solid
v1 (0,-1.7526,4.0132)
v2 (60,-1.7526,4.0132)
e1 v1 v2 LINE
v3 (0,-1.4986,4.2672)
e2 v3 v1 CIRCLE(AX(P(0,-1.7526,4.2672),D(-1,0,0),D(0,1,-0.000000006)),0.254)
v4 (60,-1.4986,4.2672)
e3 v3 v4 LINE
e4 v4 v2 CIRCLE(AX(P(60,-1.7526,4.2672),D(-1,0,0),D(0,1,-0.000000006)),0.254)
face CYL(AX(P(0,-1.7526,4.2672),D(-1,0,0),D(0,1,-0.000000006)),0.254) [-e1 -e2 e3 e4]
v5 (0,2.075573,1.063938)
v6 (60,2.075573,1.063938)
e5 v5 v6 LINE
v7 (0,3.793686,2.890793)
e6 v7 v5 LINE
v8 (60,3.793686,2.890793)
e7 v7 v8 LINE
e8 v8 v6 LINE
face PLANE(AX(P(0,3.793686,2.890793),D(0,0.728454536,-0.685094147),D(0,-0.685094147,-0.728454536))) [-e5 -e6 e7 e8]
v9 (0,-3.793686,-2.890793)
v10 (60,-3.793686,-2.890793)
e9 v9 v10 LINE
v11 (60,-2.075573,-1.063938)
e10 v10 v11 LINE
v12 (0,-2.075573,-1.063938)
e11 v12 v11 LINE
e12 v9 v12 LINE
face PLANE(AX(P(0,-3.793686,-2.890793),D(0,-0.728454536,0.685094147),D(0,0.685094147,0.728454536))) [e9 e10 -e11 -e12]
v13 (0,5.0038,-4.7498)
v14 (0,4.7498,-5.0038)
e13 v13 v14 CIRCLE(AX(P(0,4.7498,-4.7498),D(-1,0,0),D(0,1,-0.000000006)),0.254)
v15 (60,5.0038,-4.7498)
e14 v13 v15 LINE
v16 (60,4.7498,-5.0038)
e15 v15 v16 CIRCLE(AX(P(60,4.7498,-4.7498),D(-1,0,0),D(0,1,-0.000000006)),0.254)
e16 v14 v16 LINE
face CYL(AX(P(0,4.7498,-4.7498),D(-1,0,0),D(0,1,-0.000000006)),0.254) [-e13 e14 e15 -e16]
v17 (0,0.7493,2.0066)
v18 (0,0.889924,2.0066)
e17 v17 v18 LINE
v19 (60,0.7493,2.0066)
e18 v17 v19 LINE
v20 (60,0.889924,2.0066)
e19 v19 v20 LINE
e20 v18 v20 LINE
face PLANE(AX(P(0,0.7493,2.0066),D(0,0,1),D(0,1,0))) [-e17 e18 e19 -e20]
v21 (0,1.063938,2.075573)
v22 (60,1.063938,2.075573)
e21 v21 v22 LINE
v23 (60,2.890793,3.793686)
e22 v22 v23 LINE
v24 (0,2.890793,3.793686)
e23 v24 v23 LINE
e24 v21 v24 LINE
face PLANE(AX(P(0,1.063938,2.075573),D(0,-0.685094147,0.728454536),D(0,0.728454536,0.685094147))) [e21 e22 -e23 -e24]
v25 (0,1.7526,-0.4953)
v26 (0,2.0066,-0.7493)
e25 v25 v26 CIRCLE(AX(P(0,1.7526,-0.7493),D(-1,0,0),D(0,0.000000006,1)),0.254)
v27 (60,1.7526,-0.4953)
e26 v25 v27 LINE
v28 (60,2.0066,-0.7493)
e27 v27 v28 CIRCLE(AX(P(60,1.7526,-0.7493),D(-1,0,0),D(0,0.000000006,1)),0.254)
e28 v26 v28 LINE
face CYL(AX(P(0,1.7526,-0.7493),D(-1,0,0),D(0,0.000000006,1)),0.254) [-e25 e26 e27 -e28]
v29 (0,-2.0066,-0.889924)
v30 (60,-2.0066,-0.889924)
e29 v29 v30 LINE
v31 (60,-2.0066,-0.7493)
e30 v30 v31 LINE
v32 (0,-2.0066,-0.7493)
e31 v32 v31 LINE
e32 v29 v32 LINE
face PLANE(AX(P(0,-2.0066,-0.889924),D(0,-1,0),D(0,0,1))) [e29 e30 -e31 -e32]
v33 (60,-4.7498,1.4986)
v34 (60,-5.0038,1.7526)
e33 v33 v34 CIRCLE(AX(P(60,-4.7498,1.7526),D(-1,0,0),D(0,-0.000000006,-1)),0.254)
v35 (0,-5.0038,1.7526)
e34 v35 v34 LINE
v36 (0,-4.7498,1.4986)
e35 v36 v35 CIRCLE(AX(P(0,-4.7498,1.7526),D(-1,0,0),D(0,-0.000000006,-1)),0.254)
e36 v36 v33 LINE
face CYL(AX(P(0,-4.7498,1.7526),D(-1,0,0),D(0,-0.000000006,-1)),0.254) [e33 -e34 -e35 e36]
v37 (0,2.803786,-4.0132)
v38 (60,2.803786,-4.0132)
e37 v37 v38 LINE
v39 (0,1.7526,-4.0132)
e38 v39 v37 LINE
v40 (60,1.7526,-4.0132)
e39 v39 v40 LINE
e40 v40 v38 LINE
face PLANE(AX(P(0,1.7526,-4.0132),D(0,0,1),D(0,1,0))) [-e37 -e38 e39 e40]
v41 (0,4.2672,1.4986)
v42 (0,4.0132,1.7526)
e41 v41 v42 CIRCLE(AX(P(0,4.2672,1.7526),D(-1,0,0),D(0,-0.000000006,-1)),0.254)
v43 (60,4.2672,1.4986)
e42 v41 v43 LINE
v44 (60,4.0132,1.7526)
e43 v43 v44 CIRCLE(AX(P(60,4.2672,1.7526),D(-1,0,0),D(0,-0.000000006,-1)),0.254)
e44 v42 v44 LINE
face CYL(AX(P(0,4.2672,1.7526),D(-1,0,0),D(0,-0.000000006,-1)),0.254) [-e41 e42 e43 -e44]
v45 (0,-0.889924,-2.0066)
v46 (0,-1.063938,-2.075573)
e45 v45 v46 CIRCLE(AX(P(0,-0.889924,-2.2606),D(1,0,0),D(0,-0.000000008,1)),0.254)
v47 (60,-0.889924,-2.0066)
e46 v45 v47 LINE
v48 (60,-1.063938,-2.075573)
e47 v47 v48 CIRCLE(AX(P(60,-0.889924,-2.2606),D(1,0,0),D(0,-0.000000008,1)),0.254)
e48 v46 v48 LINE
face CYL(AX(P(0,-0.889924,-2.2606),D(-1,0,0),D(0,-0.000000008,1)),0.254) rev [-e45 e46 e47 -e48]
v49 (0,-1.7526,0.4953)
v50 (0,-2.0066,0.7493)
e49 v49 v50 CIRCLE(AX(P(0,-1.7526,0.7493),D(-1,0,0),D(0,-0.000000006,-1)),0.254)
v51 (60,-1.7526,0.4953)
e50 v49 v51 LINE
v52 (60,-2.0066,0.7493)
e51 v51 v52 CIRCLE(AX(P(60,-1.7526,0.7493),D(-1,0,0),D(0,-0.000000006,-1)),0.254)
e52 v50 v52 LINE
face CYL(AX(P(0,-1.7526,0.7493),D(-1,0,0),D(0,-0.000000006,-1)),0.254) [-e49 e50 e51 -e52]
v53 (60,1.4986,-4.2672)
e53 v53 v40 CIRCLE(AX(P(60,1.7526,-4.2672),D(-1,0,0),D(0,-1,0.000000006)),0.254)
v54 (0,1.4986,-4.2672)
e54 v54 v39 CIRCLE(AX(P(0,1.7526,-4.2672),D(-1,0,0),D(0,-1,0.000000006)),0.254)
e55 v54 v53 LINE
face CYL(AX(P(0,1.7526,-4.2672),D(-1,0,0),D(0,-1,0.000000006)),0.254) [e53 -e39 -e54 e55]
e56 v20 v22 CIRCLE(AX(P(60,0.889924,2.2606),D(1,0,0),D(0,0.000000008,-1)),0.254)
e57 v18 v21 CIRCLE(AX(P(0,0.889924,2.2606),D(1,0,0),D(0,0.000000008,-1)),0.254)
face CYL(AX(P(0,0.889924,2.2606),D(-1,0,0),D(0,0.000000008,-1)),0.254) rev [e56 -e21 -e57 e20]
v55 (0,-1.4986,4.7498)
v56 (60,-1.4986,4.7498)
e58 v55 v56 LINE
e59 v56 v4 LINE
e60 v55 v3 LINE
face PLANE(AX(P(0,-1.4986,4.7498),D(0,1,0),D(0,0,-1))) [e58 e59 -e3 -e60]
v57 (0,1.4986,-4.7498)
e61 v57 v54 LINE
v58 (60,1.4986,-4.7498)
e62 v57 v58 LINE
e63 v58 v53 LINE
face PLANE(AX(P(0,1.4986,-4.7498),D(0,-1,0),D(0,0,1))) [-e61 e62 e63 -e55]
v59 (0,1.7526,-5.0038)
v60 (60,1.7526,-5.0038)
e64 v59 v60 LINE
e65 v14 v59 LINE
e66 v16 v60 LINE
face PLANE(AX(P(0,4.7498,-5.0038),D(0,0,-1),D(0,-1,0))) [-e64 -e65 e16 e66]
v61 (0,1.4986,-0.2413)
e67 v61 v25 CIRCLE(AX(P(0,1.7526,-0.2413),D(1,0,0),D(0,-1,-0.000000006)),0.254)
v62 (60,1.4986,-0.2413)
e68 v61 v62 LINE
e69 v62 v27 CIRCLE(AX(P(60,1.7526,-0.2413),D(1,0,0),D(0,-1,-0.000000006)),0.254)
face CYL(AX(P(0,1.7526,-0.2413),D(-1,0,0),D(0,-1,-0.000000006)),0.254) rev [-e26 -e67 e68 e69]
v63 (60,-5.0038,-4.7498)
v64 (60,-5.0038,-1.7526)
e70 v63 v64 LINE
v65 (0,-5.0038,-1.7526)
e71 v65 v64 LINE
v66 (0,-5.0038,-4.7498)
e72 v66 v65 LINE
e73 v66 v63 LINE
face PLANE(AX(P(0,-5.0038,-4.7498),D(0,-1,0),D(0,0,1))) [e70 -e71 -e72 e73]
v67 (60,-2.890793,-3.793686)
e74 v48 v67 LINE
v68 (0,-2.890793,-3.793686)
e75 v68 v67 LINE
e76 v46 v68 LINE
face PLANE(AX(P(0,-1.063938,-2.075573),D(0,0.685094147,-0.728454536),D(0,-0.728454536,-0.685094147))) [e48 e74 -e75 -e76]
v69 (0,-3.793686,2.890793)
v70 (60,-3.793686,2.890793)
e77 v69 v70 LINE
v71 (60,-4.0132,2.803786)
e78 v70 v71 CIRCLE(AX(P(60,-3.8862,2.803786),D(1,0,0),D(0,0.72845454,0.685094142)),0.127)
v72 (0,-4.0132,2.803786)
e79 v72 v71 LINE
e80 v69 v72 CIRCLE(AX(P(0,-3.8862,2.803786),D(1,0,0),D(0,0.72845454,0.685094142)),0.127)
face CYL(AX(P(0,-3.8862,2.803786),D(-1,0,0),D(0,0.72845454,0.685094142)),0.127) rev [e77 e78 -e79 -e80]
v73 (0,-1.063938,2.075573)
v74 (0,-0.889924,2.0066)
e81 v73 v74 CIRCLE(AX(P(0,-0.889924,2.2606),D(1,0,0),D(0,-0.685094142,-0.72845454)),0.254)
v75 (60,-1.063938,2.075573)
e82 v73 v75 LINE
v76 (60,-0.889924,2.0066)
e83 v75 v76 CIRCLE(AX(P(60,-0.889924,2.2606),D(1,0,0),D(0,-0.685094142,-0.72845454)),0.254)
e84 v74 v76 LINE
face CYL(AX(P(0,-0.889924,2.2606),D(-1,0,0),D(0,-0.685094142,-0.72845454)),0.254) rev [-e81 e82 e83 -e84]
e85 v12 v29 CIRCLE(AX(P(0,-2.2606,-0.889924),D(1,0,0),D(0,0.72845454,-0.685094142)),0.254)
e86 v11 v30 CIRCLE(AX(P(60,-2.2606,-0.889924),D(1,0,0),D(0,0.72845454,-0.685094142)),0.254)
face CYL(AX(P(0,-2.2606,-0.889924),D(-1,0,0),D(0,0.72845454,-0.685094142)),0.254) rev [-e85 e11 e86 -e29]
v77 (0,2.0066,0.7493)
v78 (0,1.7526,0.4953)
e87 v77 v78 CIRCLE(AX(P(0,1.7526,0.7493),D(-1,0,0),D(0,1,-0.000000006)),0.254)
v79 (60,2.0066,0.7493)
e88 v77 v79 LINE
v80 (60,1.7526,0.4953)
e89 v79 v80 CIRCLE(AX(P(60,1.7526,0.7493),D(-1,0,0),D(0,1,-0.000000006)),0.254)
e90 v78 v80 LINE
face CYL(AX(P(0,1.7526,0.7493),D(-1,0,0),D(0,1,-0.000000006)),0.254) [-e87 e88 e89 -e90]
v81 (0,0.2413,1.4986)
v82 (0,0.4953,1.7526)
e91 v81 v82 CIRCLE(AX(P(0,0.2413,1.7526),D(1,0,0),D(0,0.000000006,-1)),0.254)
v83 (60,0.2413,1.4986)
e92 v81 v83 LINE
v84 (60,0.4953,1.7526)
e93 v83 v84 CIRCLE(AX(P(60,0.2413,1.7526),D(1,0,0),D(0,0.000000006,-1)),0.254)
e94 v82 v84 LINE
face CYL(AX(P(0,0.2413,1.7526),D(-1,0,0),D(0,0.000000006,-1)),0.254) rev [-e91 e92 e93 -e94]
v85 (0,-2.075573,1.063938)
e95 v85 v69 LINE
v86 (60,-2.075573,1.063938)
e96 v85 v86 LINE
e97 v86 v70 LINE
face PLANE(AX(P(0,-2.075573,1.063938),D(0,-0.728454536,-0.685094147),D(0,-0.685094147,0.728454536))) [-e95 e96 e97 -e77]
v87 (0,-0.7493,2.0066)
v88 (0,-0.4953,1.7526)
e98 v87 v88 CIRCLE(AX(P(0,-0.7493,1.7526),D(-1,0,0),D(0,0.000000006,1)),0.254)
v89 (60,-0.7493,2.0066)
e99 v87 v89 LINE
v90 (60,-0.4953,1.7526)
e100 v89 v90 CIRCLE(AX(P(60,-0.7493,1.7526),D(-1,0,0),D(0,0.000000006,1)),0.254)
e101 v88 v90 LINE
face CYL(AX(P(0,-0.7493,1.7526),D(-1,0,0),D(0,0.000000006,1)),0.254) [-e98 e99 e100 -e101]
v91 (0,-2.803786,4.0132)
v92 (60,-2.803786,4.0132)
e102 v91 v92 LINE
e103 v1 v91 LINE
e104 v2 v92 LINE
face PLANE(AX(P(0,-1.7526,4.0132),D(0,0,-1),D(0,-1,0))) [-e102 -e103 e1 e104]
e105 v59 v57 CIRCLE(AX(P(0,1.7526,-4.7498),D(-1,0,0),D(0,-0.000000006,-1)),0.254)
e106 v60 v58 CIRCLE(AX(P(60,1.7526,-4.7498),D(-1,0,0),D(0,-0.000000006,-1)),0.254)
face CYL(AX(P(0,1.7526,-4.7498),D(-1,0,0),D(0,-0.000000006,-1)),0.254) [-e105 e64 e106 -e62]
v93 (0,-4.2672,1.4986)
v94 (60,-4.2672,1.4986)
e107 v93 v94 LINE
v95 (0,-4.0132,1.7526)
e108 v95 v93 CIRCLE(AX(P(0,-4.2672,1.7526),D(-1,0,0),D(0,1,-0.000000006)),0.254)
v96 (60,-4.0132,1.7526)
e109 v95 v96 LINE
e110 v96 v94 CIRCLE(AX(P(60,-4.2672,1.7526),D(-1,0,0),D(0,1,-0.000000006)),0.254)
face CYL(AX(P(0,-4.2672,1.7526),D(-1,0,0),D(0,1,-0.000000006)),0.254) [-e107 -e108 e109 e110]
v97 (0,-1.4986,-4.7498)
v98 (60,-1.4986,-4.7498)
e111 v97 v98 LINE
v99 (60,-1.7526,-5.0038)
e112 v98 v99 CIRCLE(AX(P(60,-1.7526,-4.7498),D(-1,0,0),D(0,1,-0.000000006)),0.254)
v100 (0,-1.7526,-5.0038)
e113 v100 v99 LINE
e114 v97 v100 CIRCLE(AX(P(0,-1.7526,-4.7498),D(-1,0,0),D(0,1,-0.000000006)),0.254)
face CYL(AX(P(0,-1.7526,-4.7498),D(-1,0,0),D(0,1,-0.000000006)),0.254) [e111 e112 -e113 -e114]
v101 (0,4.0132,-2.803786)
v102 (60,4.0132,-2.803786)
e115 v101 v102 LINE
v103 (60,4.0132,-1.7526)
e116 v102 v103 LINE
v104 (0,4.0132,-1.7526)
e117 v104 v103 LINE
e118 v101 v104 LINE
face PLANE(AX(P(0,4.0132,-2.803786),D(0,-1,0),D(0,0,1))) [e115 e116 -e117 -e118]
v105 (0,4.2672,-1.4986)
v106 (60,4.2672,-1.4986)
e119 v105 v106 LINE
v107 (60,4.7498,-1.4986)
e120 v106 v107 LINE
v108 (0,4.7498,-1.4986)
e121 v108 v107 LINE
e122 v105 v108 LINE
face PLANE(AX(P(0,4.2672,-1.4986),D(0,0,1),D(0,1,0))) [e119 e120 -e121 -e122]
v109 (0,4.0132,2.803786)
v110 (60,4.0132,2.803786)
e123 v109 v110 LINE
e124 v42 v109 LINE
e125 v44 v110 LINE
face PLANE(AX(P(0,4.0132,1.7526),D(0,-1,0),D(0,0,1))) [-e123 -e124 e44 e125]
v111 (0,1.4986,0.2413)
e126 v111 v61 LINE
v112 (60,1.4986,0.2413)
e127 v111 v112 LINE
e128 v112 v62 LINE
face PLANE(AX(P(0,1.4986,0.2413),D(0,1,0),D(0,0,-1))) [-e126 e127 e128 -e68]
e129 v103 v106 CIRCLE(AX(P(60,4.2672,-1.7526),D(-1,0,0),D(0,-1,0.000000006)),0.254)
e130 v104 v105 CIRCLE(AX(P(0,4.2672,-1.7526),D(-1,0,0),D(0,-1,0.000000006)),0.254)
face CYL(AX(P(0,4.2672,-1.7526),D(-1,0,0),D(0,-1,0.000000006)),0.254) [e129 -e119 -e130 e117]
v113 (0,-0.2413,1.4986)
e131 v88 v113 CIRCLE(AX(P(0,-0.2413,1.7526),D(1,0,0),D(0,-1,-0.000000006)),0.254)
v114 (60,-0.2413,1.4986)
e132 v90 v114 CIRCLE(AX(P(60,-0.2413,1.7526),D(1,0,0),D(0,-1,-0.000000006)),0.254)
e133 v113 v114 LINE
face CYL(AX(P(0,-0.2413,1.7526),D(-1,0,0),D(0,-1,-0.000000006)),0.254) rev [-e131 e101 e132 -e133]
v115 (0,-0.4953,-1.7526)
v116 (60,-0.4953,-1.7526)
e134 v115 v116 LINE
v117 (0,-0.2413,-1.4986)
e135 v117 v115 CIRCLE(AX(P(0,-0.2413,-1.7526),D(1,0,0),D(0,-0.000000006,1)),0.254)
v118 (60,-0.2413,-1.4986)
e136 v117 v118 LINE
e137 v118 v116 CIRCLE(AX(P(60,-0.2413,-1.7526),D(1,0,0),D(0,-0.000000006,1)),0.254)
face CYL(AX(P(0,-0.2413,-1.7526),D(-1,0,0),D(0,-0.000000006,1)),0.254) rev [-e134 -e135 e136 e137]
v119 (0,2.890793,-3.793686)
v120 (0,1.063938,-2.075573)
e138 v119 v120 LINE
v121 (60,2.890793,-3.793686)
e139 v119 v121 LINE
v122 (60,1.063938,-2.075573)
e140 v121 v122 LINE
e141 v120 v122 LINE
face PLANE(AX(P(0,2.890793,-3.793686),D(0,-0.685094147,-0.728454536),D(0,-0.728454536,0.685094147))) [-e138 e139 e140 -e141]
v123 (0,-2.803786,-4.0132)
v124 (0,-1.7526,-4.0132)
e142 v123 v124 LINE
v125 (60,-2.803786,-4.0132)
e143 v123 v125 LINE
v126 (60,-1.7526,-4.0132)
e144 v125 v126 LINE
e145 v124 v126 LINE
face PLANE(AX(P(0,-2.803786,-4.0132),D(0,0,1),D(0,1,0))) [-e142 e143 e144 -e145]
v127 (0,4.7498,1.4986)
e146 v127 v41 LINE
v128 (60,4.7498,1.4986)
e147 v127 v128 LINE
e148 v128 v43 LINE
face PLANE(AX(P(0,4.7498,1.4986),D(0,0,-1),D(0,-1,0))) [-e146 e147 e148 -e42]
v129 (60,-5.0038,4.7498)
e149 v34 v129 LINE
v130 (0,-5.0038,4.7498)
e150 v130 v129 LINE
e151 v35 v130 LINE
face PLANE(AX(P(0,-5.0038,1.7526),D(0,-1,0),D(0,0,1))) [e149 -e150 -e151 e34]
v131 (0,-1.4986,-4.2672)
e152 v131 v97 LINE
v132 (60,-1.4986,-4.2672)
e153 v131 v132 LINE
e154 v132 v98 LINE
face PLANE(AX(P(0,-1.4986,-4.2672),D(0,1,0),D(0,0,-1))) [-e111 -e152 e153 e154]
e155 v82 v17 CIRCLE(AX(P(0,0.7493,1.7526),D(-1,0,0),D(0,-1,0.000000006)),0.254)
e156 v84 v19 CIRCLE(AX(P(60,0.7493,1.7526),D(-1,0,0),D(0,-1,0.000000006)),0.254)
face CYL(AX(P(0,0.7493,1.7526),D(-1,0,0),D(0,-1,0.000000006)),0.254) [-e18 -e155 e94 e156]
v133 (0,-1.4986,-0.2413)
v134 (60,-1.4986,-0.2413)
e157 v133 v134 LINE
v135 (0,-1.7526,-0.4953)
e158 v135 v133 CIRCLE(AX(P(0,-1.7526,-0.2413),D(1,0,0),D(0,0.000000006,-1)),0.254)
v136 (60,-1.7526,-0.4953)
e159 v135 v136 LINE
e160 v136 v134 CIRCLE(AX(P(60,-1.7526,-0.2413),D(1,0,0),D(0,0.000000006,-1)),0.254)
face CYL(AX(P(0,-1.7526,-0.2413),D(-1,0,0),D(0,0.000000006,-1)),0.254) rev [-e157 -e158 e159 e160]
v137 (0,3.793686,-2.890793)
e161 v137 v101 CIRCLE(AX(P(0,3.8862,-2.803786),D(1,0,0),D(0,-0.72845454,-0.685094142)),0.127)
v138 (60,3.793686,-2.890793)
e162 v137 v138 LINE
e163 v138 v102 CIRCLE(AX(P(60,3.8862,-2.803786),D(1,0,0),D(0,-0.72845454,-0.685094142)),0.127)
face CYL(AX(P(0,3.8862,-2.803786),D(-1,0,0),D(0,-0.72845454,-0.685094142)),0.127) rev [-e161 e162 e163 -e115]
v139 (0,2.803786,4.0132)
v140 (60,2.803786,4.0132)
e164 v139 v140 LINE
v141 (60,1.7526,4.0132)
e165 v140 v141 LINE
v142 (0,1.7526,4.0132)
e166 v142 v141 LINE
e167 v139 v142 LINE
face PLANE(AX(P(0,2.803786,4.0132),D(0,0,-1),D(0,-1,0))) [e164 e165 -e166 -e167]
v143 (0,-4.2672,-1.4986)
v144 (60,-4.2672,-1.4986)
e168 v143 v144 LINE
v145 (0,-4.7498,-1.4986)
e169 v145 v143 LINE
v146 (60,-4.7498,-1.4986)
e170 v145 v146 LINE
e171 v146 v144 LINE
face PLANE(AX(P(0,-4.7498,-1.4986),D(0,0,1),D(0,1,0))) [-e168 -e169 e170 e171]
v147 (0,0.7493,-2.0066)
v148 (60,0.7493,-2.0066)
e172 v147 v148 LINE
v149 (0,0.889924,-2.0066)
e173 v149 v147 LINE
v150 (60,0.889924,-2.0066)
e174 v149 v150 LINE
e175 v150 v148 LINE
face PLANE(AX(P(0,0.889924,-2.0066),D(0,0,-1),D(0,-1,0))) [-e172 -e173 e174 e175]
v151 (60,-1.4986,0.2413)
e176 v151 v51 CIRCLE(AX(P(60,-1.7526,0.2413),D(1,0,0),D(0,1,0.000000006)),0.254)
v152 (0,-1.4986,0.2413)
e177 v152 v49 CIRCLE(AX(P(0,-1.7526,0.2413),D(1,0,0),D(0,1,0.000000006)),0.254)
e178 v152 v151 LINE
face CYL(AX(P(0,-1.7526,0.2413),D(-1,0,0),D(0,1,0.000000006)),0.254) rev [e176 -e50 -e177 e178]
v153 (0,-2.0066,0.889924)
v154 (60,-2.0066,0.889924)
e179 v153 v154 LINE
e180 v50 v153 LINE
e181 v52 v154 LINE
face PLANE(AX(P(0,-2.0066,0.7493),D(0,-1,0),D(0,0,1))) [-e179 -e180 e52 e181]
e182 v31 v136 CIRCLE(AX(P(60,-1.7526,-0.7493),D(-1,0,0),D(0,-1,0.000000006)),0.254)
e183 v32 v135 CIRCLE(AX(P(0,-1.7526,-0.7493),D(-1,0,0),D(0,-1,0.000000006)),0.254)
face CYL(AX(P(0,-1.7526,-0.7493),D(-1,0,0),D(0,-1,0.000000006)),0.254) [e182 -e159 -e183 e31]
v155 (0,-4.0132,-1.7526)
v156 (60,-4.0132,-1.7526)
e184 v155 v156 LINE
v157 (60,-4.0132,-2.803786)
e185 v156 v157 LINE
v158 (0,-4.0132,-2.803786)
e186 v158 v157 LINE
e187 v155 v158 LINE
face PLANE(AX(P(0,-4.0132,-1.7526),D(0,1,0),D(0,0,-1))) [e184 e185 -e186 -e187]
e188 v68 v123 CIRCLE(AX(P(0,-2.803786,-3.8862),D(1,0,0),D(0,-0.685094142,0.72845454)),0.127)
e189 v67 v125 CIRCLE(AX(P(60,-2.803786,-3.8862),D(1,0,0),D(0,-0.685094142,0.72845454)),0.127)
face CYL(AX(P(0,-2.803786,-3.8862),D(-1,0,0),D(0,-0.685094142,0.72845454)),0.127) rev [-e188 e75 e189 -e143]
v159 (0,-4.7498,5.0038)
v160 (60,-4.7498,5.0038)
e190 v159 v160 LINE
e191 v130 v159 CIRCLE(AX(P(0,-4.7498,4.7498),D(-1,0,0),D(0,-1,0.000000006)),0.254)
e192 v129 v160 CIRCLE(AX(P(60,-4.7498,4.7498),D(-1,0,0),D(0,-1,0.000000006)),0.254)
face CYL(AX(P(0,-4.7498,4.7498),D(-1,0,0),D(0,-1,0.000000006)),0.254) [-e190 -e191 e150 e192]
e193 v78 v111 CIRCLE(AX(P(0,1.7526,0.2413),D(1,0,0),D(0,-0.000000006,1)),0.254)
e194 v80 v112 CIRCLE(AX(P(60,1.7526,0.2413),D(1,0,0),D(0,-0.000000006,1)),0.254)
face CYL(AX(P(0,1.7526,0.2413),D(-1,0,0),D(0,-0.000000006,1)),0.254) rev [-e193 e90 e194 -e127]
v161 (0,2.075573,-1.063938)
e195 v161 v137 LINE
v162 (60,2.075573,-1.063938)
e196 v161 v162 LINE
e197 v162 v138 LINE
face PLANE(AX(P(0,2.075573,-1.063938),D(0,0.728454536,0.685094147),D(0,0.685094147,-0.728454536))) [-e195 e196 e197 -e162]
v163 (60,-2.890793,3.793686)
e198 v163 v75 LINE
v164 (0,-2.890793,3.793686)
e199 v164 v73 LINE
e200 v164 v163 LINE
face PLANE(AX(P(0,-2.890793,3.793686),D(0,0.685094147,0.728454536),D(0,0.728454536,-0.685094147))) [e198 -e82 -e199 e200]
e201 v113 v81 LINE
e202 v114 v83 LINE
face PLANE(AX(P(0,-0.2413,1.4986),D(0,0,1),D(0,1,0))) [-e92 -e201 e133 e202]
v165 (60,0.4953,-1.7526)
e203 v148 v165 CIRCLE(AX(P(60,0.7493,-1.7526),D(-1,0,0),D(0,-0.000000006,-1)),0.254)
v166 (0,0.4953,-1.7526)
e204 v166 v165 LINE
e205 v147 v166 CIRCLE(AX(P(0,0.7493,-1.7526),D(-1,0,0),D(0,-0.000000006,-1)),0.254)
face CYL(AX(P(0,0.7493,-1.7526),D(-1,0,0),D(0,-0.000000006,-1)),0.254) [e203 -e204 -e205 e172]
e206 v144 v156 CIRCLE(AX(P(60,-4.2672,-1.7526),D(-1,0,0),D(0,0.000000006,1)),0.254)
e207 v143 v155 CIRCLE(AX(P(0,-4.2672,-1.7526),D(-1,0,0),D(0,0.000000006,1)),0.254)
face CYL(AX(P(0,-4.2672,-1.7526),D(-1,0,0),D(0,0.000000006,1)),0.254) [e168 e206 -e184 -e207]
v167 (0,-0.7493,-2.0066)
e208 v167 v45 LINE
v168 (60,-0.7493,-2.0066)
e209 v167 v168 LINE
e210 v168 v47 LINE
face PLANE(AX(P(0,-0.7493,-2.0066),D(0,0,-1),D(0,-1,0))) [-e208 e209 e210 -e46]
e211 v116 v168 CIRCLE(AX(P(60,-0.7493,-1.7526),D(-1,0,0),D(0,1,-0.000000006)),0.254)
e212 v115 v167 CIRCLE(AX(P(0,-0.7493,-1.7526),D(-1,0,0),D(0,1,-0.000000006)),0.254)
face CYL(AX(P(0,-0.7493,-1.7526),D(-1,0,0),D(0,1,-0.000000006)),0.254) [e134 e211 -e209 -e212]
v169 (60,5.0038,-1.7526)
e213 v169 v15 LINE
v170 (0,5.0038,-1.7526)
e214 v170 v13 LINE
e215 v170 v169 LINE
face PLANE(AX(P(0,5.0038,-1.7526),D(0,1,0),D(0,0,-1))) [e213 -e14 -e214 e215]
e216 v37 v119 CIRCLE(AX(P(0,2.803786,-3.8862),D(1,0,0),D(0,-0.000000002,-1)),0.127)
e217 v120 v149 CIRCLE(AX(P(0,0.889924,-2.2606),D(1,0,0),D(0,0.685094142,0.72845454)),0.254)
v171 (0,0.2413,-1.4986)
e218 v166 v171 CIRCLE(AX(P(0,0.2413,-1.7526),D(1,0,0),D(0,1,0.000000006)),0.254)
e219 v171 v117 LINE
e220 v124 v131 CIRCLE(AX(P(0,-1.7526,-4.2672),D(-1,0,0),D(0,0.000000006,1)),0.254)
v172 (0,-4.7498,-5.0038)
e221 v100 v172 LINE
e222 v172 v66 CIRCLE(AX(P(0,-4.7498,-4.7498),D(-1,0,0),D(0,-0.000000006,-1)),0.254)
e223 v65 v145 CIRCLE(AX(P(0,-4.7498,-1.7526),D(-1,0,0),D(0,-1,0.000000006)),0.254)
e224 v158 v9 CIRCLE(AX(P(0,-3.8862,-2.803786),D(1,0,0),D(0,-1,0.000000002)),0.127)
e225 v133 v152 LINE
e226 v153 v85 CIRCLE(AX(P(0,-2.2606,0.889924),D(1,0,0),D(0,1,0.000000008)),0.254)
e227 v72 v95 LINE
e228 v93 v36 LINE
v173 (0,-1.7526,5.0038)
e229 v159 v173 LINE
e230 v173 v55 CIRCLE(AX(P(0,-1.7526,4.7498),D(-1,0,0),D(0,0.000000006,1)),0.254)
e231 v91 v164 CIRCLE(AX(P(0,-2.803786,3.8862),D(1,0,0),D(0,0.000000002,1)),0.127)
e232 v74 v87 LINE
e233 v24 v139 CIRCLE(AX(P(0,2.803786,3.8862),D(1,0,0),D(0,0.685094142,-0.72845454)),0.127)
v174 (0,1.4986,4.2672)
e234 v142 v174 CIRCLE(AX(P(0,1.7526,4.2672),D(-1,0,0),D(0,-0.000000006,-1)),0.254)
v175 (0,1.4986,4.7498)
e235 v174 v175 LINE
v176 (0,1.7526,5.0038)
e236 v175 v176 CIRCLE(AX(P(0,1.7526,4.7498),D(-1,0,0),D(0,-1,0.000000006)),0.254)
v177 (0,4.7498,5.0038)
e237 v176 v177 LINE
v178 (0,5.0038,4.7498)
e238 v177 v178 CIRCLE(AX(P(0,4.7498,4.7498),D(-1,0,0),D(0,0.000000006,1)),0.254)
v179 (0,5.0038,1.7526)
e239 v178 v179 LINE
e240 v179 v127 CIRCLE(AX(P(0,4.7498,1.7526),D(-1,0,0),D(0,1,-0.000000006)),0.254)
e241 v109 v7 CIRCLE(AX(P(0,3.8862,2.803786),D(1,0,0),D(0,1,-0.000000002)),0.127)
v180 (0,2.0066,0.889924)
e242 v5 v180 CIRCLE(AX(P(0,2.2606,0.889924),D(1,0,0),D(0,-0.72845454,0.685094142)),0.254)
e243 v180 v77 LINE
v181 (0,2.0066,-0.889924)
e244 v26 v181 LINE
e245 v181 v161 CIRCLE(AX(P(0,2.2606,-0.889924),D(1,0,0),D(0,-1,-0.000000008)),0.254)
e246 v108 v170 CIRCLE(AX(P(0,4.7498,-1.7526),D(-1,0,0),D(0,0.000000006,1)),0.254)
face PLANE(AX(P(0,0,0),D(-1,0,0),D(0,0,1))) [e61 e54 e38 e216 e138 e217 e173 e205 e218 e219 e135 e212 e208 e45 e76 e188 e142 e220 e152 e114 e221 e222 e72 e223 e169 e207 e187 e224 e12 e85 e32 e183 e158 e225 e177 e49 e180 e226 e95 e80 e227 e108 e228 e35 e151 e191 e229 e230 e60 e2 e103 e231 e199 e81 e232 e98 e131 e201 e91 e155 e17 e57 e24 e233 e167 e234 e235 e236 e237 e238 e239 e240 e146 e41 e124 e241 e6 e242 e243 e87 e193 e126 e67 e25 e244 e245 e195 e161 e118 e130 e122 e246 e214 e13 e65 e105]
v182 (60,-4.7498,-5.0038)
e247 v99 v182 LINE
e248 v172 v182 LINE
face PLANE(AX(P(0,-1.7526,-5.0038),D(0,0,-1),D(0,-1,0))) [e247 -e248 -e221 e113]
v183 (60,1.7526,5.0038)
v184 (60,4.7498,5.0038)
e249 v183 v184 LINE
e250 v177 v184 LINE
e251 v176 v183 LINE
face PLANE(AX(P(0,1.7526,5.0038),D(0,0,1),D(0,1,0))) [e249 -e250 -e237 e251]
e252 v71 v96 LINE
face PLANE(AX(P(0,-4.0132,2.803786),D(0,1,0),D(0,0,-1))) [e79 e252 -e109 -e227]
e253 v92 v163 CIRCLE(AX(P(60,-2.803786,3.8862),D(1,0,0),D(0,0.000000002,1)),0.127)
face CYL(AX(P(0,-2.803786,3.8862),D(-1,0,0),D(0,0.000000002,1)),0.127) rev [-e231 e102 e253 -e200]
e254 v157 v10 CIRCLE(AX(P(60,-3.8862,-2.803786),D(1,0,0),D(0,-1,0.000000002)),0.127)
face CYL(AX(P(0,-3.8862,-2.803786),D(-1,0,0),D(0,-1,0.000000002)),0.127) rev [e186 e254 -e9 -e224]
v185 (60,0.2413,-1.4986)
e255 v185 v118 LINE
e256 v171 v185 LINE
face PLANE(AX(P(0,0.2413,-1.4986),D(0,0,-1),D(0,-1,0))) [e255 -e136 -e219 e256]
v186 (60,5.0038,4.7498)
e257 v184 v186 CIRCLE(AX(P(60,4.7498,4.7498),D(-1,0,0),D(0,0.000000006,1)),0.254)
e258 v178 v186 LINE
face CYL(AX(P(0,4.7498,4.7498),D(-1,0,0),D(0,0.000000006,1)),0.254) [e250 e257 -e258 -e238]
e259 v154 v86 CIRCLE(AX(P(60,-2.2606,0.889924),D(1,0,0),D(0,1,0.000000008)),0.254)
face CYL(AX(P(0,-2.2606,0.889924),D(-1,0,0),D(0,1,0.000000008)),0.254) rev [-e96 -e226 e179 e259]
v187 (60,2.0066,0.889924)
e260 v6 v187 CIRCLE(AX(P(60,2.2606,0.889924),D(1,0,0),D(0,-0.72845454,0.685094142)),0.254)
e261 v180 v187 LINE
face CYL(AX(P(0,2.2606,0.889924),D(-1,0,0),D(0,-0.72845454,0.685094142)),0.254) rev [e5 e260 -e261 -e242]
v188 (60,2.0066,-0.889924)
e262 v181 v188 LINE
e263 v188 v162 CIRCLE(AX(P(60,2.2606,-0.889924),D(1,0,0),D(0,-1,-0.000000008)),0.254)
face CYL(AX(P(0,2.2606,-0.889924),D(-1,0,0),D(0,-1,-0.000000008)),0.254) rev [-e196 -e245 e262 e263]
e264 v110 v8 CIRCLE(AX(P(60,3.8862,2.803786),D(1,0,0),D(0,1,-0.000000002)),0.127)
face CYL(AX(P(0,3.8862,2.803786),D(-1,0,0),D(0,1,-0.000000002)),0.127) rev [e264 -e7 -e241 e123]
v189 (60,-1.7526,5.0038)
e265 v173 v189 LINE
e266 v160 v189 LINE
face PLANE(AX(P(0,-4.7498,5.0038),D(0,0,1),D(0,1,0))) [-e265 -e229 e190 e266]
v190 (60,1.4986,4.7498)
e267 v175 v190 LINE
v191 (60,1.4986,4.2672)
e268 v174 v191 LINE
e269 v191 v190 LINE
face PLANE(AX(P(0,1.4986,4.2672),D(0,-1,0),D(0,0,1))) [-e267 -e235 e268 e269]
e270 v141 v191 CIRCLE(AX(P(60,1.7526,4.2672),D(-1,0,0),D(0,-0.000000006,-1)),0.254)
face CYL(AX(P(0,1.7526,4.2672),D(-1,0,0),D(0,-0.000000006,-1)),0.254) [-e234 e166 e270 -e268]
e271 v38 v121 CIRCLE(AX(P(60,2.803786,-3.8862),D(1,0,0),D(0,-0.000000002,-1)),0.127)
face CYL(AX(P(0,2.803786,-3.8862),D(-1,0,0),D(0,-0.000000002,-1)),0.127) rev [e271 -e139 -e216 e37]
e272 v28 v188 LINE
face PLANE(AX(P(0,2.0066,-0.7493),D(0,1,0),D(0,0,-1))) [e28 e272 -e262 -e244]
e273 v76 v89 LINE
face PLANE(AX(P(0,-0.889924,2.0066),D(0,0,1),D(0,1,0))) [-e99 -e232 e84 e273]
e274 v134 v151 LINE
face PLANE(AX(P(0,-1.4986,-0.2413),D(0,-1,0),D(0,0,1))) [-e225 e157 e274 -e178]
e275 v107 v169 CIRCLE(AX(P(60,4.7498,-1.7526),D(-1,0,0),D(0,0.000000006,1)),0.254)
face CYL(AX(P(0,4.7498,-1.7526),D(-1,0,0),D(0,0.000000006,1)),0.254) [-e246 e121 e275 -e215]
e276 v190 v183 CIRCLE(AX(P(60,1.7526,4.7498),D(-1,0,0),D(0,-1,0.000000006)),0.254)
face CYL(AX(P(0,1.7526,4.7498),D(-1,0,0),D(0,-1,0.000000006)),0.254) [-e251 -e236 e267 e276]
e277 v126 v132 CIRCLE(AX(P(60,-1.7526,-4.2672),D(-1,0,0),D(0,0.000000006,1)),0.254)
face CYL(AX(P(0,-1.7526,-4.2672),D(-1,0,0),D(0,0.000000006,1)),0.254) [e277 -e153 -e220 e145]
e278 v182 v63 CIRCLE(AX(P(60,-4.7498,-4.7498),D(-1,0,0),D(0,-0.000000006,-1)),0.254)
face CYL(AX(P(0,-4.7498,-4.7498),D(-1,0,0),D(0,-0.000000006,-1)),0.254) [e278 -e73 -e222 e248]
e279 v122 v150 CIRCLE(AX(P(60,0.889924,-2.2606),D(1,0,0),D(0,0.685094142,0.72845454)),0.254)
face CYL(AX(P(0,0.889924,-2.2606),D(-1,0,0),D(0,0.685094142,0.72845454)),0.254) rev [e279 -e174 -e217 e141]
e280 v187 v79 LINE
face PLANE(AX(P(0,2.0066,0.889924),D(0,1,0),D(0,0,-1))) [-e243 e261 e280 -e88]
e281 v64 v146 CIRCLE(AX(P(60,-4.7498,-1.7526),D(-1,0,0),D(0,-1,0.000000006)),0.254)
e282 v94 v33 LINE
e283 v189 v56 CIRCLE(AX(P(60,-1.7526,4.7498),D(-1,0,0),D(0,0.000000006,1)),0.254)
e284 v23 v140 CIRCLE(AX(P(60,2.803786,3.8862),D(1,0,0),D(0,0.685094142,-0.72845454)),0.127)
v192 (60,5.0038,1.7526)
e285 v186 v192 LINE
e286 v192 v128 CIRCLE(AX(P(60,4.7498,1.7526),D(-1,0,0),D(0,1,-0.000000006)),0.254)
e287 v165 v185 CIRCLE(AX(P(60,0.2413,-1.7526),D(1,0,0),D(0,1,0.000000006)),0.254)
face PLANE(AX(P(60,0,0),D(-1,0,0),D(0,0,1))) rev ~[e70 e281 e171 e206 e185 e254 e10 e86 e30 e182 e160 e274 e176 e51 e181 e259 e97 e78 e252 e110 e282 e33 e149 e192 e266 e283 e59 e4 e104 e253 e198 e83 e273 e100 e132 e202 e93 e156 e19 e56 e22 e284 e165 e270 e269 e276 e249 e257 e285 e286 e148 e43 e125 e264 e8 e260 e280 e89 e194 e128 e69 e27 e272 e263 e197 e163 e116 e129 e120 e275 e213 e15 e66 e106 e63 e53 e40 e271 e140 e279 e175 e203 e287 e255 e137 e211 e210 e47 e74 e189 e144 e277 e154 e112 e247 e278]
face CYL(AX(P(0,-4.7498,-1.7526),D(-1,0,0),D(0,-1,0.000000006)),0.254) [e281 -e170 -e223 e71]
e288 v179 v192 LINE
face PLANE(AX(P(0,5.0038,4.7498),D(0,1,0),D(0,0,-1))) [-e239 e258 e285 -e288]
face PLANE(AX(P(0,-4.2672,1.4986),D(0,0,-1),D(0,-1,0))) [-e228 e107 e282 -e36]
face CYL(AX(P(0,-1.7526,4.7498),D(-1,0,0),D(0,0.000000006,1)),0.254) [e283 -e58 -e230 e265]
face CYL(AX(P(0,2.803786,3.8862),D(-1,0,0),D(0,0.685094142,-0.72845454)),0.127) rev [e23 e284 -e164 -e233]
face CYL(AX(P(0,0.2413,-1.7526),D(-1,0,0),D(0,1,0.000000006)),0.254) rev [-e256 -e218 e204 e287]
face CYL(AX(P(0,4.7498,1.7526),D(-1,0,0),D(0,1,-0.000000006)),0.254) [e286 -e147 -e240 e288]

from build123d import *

# Parameters (mm, degrees)
BOSS_EXTRU_1_DEPTH = 60


with BuildPart() as part:
    # Sketch1 → Boss.-Extru.1 (new body)
    with BuildSketch(Plane(origin=(0, 0, 0), x_dir=(0, 0, -1), z_dir=(1, 0, 0))):
        with BuildLine():
            Line((-0.2413, 1.4986), (0.2413, 1.4986))
            ThreePointArc((0.2413, 1.4986), (0.420905122, 1.572994878), (0.4953, 1.7526))
            ThreePointArc((0.4953, 1.7526), (0.569694878, 1.932205122), (0.7493, 2.0066))
            Line((0.7493, 2.0066), (0.889923986, 2.0066))
            ThreePointArc((0.889923986, 2.0066), (0.983516259, 2.024471886), (1.063937899, 2.075572548))
            Line((1.063937899, 2.075572548), (2.890793, 3.793686274))
            ThreePointArc((2.890793, 3.793686274), (2.921850101, 3.932996137), (2.803786044, 4.0132))
            Line((2.803786044, 4.0132), (1.7526, 4.0132))
            ThreePointArc((1.7526, 4.0132), (1.572994878, 4.087594878), (1.4986, 4.2672))
            Line((1.4986, 4.2672), (1.4986, 4.7498))
            ThreePointArc((1.4986, 4.7498), (1.572994878, 4.929405122), (1.7526, 5.0038))
            Line((1.7526, 5.0038), (4.7498, 5.0038))
            ThreePointArc((4.7498, 5.0038), (4.929405122, 4.929405122), (5.0038, 4.7498))
            Line((5.0038, 4.7498), (5.0038, 1.7526))
            ThreePointArc((5.0038, 1.7526), (4.929405122, 1.572994878), (4.7498, 1.4986))
            Line((4.7498, 1.4986), (4.2672, 1.4986))
            ThreePointArc((4.2672, 1.4986), (4.087594878, 1.572994878), (4.0132, 1.7526))
            Line((4.0132, 1.7526), (4.0132, 2.803786044))
            ThreePointArc((4.0132, 2.803786044), (3.932996137, 2.921850101), (3.793686274, 2.890793))
            Line((3.793686274, 2.890793), (2.075572548, 1.063937899))
            ThreePointArc((2.075572548, 1.063937899), (2.024471886, 0.983516259), (2.0066, 0.889923986))
            Line((2.0066, 0.889923986), (2.0066, 0.7493))
            ThreePointArc((2.0066, 0.7493), (1.932205122, 0.569694878), (1.7526, 0.4953))
            ThreePointArc((1.7526, 0.4953), (1.572994878, 0.420905122), (1.4986, 0.2413))
            Line((1.4986, 0.2413), (1.4986, -0.2413))
            ThreePointArc((1.4986, -0.2413), (1.572994878, -0.420905122), (1.7526, -0.4953))
            ThreePointArc((1.7526, -0.4953), (1.932205122, -0.569694878), (2.0066, -0.7493))
            Line((2.0066, -0.7493), (2.0066, -0.889923986))
            ThreePointArc((2.0066, -0.889923986), (2.024471886, -0.983516259), (2.075572548, -1.063937899))
            Line((2.075572548, -1.063937899), (3.793686274, -2.890793))
            ThreePointArc((3.793686274, -2.890793), (3.932996137, -2.921850101), (4.0132, -2.803786044))
            Line((4.0132, -2.803786044), (4.0132, -1.7526))
            ThreePointArc((4.0132, -1.7526), (4.087594878, -1.572994878), (4.2672, -1.4986))
            Line((4.2672, -1.4986), (4.7498, -1.4986))
            ThreePointArc((4.7498, -1.4986), (4.929405122, -1.572994878), (5.0038, -1.7526))
            Line((5.0038, -1.7526), (5.0038, -4.7498))
            ThreePointArc((5.0038, -4.7498), (4.929405122, -4.929405122), (4.7498, -5.0038))
            Line((4.7498, -5.0038), (1.7526, -5.0038))
            ThreePointArc((1.7526, -5.0038), (1.572994878, -4.929405122), (1.4986, -4.7498))
            Line((1.4986, -4.7498), (1.4986, -4.2672))
            ThreePointArc((1.4986, -4.2672), (1.572994878, -4.087594878), (1.7526, -4.0132))
            Line((1.7526, -4.0132), (2.803786044, -4.0132))
            ThreePointArc((2.803786044, -4.0132), (2.921850101, -3.932996137), (2.890793, -3.793686274))
            Line((2.890793, -3.793686274), (1.063937899, -2.075572548))
            ThreePointArc((1.063937899, -2.075572548), (0.983516259, -2.024471886), (0.889923986, -2.0066))
            Line((0.889923986, -2.0066), (0.7493, -2.0066))
            ThreePointArc((0.7493, -2.0066), (0.569694878, -1.932205122), (0.4953, -1.7526))
            ThreePointArc((0.4953, -1.7526), (0.420905122, -1.572994878), (0.2413, -1.4986))
            Line((0.2413, -1.4986), (-0.2413, -1.4986))
            ThreePointArc((-0.2413, -1.4986), (-0.420905122, -1.572994878), (-0.4953, -1.7526))
            ThreePointArc((-0.4953, -1.7526), (-0.569694878, -1.932205122), (-0.7493, -2.0066))
            Line((-0.7493, -2.0066), (-0.889923986, -2.0066))
            ThreePointArc((-0.889923986, -2.0066), (-0.983516259, -2.024471886), (-1.063937899, -2.075572548))
            Line((-1.063937899, -2.075572548), (-2.890793, -3.793686274))
            ThreePointArc((-2.890793, -3.793686274), (-2.921850101, -3.932996137), (-2.803786044, -4.0132))
            Line((-2.803786044, -4.0132), (-1.7526, -4.0132))
            ThreePointArc((-1.7526, -4.0132), (-1.572994878, -4.087594878), (-1.4986, -4.2672))
            Line((-1.4986, -4.2672), (-1.4986, -4.7498))
            ThreePointArc((-1.4986, -4.7498), (-1.572994878, -4.929405122), (-1.7526, -5.0038))
            Line((-1.7526, -5.0038), (-4.7498, -5.0038))
            ThreePointArc((-4.7498, -5.0038), (-4.929405122, -4.929405122), (-5.0038, -4.7498))
            Line((-5.0038, -4.7498), (-5.0038, -1.7526))
            ThreePointArc((-5.0038, -1.7526), (-4.929405122, -1.572994878), (-4.7498, -1.4986))
            Line((-4.7498, -1.4986), (-4.2672, -1.4986))
            ThreePointArc((-4.2672, -1.4986), (-4.087594878, -1.572994878), (-4.0132, -1.7526))
            Line((-4.0132, -1.7526), (-4.0132, -2.803786044))
            ThreePointArc((-4.0132, -2.803786044), (-3.932996137, -2.921850101), (-3.793686274, -2.890793))
            Line((-3.793686274, -2.890793), (-2.075572548, -1.063937899))
            ThreePointArc((-2.075572548, -1.063937899), (-2.024471886, -0.983516259), (-2.0066, -0.889923986))
            Line((-2.0066, -0.889923986), (-2.0066, -0.7493))
            ThreePointArc((-2.0066, -0.7493), (-1.932205122, -0.569694878), (-1.7526, -0.4953))
            ThreePointArc((-1.7526, -0.4953), (-1.572994878, -0.420905122), (-1.4986, -0.2413))
            Line((-1.4986, -0.2413), (-1.4986, 0.2413))
            ThreePointArc((-1.4986, 0.2413), (-1.572994878, 0.420905122), (-1.7526, 0.4953))
            ThreePointArc((-1.7526, 0.4953), (-1.932205122, 0.569694878), (-2.0066, 0.7493))
            Line((-2.0066, 0.7493), (-2.0066, 0.889923986))
            ThreePointArc((-2.0066, 0.889923986), (-2.024471886, 0.983516259), (-2.075572548, 1.063937899))
            Line((-2.075572548, 1.063937899), (-3.793686274, 2.890793))
            ThreePointArc((-3.793686274, 2.890793), (-3.932996137, 2.921850101), (-4.0132, 2.803786044))
            Line((-4.0132, 2.803786044), (-4.0132, 1.7526))
            ThreePointArc((-4.0132, 1.7526), (-4.087594878, 1.572994878), (-4.2672, 1.4986))
            Line((-4.2672, 1.4986), (-4.7498, 1.4986))
            ThreePointArc((-4.7498, 1.4986), (-4.929405122, 1.572994878), (-5.0038, 1.7526))
            Line((-5.0038, 1.7526), (-5.0038, 4.7498))
            ThreePointArc((-5.0038, 4.7498), (-4.929405122, 4.929405122), (-4.7498, 5.0038))
            Line((-4.7498, 5.0038), (-1.7526, 5.0038))
            ThreePointArc((-1.7526, 5.0038), (-1.572994878, 4.929405122), (-1.4986, 4.7498))
            Line((-1.4986, 4.7498), (-1.4986, 4.2672))
            ThreePointArc((-1.4986, 4.2672), (-1.572994878, 4.087594878), (-1.7526, 4.0132))
            Line((-1.7526, 4.0132), (-2.803786044, 4.0132))
            ThreePointArc((-2.803786044, 4.0132), (-2.921850101, 3.932996137), (-2.890793, 3.793686274))
            Line((-2.890793, 3.793686274), (-1.063937899, 2.075572548))
            ThreePointArc((-1.063937899, 2.075572548), (-0.983516259, 2.024471886), (-0.889923986, 2.0066))
            Line((-0.889923986, 2.0066), (-0.7493, 2.0066))
            ThreePointArc((-0.7493, 2.0066), (-0.569694878, 1.932205122), (-0.4953, 1.7526))
            ThreePointArc((-0.4953, 1.7526), (-0.420905122, 1.572994878), (-0.2413, 1.4986))
        make_face()
    extrude(amount=BOSS_EXTRU_1_DEPTH)


solid = part.part
